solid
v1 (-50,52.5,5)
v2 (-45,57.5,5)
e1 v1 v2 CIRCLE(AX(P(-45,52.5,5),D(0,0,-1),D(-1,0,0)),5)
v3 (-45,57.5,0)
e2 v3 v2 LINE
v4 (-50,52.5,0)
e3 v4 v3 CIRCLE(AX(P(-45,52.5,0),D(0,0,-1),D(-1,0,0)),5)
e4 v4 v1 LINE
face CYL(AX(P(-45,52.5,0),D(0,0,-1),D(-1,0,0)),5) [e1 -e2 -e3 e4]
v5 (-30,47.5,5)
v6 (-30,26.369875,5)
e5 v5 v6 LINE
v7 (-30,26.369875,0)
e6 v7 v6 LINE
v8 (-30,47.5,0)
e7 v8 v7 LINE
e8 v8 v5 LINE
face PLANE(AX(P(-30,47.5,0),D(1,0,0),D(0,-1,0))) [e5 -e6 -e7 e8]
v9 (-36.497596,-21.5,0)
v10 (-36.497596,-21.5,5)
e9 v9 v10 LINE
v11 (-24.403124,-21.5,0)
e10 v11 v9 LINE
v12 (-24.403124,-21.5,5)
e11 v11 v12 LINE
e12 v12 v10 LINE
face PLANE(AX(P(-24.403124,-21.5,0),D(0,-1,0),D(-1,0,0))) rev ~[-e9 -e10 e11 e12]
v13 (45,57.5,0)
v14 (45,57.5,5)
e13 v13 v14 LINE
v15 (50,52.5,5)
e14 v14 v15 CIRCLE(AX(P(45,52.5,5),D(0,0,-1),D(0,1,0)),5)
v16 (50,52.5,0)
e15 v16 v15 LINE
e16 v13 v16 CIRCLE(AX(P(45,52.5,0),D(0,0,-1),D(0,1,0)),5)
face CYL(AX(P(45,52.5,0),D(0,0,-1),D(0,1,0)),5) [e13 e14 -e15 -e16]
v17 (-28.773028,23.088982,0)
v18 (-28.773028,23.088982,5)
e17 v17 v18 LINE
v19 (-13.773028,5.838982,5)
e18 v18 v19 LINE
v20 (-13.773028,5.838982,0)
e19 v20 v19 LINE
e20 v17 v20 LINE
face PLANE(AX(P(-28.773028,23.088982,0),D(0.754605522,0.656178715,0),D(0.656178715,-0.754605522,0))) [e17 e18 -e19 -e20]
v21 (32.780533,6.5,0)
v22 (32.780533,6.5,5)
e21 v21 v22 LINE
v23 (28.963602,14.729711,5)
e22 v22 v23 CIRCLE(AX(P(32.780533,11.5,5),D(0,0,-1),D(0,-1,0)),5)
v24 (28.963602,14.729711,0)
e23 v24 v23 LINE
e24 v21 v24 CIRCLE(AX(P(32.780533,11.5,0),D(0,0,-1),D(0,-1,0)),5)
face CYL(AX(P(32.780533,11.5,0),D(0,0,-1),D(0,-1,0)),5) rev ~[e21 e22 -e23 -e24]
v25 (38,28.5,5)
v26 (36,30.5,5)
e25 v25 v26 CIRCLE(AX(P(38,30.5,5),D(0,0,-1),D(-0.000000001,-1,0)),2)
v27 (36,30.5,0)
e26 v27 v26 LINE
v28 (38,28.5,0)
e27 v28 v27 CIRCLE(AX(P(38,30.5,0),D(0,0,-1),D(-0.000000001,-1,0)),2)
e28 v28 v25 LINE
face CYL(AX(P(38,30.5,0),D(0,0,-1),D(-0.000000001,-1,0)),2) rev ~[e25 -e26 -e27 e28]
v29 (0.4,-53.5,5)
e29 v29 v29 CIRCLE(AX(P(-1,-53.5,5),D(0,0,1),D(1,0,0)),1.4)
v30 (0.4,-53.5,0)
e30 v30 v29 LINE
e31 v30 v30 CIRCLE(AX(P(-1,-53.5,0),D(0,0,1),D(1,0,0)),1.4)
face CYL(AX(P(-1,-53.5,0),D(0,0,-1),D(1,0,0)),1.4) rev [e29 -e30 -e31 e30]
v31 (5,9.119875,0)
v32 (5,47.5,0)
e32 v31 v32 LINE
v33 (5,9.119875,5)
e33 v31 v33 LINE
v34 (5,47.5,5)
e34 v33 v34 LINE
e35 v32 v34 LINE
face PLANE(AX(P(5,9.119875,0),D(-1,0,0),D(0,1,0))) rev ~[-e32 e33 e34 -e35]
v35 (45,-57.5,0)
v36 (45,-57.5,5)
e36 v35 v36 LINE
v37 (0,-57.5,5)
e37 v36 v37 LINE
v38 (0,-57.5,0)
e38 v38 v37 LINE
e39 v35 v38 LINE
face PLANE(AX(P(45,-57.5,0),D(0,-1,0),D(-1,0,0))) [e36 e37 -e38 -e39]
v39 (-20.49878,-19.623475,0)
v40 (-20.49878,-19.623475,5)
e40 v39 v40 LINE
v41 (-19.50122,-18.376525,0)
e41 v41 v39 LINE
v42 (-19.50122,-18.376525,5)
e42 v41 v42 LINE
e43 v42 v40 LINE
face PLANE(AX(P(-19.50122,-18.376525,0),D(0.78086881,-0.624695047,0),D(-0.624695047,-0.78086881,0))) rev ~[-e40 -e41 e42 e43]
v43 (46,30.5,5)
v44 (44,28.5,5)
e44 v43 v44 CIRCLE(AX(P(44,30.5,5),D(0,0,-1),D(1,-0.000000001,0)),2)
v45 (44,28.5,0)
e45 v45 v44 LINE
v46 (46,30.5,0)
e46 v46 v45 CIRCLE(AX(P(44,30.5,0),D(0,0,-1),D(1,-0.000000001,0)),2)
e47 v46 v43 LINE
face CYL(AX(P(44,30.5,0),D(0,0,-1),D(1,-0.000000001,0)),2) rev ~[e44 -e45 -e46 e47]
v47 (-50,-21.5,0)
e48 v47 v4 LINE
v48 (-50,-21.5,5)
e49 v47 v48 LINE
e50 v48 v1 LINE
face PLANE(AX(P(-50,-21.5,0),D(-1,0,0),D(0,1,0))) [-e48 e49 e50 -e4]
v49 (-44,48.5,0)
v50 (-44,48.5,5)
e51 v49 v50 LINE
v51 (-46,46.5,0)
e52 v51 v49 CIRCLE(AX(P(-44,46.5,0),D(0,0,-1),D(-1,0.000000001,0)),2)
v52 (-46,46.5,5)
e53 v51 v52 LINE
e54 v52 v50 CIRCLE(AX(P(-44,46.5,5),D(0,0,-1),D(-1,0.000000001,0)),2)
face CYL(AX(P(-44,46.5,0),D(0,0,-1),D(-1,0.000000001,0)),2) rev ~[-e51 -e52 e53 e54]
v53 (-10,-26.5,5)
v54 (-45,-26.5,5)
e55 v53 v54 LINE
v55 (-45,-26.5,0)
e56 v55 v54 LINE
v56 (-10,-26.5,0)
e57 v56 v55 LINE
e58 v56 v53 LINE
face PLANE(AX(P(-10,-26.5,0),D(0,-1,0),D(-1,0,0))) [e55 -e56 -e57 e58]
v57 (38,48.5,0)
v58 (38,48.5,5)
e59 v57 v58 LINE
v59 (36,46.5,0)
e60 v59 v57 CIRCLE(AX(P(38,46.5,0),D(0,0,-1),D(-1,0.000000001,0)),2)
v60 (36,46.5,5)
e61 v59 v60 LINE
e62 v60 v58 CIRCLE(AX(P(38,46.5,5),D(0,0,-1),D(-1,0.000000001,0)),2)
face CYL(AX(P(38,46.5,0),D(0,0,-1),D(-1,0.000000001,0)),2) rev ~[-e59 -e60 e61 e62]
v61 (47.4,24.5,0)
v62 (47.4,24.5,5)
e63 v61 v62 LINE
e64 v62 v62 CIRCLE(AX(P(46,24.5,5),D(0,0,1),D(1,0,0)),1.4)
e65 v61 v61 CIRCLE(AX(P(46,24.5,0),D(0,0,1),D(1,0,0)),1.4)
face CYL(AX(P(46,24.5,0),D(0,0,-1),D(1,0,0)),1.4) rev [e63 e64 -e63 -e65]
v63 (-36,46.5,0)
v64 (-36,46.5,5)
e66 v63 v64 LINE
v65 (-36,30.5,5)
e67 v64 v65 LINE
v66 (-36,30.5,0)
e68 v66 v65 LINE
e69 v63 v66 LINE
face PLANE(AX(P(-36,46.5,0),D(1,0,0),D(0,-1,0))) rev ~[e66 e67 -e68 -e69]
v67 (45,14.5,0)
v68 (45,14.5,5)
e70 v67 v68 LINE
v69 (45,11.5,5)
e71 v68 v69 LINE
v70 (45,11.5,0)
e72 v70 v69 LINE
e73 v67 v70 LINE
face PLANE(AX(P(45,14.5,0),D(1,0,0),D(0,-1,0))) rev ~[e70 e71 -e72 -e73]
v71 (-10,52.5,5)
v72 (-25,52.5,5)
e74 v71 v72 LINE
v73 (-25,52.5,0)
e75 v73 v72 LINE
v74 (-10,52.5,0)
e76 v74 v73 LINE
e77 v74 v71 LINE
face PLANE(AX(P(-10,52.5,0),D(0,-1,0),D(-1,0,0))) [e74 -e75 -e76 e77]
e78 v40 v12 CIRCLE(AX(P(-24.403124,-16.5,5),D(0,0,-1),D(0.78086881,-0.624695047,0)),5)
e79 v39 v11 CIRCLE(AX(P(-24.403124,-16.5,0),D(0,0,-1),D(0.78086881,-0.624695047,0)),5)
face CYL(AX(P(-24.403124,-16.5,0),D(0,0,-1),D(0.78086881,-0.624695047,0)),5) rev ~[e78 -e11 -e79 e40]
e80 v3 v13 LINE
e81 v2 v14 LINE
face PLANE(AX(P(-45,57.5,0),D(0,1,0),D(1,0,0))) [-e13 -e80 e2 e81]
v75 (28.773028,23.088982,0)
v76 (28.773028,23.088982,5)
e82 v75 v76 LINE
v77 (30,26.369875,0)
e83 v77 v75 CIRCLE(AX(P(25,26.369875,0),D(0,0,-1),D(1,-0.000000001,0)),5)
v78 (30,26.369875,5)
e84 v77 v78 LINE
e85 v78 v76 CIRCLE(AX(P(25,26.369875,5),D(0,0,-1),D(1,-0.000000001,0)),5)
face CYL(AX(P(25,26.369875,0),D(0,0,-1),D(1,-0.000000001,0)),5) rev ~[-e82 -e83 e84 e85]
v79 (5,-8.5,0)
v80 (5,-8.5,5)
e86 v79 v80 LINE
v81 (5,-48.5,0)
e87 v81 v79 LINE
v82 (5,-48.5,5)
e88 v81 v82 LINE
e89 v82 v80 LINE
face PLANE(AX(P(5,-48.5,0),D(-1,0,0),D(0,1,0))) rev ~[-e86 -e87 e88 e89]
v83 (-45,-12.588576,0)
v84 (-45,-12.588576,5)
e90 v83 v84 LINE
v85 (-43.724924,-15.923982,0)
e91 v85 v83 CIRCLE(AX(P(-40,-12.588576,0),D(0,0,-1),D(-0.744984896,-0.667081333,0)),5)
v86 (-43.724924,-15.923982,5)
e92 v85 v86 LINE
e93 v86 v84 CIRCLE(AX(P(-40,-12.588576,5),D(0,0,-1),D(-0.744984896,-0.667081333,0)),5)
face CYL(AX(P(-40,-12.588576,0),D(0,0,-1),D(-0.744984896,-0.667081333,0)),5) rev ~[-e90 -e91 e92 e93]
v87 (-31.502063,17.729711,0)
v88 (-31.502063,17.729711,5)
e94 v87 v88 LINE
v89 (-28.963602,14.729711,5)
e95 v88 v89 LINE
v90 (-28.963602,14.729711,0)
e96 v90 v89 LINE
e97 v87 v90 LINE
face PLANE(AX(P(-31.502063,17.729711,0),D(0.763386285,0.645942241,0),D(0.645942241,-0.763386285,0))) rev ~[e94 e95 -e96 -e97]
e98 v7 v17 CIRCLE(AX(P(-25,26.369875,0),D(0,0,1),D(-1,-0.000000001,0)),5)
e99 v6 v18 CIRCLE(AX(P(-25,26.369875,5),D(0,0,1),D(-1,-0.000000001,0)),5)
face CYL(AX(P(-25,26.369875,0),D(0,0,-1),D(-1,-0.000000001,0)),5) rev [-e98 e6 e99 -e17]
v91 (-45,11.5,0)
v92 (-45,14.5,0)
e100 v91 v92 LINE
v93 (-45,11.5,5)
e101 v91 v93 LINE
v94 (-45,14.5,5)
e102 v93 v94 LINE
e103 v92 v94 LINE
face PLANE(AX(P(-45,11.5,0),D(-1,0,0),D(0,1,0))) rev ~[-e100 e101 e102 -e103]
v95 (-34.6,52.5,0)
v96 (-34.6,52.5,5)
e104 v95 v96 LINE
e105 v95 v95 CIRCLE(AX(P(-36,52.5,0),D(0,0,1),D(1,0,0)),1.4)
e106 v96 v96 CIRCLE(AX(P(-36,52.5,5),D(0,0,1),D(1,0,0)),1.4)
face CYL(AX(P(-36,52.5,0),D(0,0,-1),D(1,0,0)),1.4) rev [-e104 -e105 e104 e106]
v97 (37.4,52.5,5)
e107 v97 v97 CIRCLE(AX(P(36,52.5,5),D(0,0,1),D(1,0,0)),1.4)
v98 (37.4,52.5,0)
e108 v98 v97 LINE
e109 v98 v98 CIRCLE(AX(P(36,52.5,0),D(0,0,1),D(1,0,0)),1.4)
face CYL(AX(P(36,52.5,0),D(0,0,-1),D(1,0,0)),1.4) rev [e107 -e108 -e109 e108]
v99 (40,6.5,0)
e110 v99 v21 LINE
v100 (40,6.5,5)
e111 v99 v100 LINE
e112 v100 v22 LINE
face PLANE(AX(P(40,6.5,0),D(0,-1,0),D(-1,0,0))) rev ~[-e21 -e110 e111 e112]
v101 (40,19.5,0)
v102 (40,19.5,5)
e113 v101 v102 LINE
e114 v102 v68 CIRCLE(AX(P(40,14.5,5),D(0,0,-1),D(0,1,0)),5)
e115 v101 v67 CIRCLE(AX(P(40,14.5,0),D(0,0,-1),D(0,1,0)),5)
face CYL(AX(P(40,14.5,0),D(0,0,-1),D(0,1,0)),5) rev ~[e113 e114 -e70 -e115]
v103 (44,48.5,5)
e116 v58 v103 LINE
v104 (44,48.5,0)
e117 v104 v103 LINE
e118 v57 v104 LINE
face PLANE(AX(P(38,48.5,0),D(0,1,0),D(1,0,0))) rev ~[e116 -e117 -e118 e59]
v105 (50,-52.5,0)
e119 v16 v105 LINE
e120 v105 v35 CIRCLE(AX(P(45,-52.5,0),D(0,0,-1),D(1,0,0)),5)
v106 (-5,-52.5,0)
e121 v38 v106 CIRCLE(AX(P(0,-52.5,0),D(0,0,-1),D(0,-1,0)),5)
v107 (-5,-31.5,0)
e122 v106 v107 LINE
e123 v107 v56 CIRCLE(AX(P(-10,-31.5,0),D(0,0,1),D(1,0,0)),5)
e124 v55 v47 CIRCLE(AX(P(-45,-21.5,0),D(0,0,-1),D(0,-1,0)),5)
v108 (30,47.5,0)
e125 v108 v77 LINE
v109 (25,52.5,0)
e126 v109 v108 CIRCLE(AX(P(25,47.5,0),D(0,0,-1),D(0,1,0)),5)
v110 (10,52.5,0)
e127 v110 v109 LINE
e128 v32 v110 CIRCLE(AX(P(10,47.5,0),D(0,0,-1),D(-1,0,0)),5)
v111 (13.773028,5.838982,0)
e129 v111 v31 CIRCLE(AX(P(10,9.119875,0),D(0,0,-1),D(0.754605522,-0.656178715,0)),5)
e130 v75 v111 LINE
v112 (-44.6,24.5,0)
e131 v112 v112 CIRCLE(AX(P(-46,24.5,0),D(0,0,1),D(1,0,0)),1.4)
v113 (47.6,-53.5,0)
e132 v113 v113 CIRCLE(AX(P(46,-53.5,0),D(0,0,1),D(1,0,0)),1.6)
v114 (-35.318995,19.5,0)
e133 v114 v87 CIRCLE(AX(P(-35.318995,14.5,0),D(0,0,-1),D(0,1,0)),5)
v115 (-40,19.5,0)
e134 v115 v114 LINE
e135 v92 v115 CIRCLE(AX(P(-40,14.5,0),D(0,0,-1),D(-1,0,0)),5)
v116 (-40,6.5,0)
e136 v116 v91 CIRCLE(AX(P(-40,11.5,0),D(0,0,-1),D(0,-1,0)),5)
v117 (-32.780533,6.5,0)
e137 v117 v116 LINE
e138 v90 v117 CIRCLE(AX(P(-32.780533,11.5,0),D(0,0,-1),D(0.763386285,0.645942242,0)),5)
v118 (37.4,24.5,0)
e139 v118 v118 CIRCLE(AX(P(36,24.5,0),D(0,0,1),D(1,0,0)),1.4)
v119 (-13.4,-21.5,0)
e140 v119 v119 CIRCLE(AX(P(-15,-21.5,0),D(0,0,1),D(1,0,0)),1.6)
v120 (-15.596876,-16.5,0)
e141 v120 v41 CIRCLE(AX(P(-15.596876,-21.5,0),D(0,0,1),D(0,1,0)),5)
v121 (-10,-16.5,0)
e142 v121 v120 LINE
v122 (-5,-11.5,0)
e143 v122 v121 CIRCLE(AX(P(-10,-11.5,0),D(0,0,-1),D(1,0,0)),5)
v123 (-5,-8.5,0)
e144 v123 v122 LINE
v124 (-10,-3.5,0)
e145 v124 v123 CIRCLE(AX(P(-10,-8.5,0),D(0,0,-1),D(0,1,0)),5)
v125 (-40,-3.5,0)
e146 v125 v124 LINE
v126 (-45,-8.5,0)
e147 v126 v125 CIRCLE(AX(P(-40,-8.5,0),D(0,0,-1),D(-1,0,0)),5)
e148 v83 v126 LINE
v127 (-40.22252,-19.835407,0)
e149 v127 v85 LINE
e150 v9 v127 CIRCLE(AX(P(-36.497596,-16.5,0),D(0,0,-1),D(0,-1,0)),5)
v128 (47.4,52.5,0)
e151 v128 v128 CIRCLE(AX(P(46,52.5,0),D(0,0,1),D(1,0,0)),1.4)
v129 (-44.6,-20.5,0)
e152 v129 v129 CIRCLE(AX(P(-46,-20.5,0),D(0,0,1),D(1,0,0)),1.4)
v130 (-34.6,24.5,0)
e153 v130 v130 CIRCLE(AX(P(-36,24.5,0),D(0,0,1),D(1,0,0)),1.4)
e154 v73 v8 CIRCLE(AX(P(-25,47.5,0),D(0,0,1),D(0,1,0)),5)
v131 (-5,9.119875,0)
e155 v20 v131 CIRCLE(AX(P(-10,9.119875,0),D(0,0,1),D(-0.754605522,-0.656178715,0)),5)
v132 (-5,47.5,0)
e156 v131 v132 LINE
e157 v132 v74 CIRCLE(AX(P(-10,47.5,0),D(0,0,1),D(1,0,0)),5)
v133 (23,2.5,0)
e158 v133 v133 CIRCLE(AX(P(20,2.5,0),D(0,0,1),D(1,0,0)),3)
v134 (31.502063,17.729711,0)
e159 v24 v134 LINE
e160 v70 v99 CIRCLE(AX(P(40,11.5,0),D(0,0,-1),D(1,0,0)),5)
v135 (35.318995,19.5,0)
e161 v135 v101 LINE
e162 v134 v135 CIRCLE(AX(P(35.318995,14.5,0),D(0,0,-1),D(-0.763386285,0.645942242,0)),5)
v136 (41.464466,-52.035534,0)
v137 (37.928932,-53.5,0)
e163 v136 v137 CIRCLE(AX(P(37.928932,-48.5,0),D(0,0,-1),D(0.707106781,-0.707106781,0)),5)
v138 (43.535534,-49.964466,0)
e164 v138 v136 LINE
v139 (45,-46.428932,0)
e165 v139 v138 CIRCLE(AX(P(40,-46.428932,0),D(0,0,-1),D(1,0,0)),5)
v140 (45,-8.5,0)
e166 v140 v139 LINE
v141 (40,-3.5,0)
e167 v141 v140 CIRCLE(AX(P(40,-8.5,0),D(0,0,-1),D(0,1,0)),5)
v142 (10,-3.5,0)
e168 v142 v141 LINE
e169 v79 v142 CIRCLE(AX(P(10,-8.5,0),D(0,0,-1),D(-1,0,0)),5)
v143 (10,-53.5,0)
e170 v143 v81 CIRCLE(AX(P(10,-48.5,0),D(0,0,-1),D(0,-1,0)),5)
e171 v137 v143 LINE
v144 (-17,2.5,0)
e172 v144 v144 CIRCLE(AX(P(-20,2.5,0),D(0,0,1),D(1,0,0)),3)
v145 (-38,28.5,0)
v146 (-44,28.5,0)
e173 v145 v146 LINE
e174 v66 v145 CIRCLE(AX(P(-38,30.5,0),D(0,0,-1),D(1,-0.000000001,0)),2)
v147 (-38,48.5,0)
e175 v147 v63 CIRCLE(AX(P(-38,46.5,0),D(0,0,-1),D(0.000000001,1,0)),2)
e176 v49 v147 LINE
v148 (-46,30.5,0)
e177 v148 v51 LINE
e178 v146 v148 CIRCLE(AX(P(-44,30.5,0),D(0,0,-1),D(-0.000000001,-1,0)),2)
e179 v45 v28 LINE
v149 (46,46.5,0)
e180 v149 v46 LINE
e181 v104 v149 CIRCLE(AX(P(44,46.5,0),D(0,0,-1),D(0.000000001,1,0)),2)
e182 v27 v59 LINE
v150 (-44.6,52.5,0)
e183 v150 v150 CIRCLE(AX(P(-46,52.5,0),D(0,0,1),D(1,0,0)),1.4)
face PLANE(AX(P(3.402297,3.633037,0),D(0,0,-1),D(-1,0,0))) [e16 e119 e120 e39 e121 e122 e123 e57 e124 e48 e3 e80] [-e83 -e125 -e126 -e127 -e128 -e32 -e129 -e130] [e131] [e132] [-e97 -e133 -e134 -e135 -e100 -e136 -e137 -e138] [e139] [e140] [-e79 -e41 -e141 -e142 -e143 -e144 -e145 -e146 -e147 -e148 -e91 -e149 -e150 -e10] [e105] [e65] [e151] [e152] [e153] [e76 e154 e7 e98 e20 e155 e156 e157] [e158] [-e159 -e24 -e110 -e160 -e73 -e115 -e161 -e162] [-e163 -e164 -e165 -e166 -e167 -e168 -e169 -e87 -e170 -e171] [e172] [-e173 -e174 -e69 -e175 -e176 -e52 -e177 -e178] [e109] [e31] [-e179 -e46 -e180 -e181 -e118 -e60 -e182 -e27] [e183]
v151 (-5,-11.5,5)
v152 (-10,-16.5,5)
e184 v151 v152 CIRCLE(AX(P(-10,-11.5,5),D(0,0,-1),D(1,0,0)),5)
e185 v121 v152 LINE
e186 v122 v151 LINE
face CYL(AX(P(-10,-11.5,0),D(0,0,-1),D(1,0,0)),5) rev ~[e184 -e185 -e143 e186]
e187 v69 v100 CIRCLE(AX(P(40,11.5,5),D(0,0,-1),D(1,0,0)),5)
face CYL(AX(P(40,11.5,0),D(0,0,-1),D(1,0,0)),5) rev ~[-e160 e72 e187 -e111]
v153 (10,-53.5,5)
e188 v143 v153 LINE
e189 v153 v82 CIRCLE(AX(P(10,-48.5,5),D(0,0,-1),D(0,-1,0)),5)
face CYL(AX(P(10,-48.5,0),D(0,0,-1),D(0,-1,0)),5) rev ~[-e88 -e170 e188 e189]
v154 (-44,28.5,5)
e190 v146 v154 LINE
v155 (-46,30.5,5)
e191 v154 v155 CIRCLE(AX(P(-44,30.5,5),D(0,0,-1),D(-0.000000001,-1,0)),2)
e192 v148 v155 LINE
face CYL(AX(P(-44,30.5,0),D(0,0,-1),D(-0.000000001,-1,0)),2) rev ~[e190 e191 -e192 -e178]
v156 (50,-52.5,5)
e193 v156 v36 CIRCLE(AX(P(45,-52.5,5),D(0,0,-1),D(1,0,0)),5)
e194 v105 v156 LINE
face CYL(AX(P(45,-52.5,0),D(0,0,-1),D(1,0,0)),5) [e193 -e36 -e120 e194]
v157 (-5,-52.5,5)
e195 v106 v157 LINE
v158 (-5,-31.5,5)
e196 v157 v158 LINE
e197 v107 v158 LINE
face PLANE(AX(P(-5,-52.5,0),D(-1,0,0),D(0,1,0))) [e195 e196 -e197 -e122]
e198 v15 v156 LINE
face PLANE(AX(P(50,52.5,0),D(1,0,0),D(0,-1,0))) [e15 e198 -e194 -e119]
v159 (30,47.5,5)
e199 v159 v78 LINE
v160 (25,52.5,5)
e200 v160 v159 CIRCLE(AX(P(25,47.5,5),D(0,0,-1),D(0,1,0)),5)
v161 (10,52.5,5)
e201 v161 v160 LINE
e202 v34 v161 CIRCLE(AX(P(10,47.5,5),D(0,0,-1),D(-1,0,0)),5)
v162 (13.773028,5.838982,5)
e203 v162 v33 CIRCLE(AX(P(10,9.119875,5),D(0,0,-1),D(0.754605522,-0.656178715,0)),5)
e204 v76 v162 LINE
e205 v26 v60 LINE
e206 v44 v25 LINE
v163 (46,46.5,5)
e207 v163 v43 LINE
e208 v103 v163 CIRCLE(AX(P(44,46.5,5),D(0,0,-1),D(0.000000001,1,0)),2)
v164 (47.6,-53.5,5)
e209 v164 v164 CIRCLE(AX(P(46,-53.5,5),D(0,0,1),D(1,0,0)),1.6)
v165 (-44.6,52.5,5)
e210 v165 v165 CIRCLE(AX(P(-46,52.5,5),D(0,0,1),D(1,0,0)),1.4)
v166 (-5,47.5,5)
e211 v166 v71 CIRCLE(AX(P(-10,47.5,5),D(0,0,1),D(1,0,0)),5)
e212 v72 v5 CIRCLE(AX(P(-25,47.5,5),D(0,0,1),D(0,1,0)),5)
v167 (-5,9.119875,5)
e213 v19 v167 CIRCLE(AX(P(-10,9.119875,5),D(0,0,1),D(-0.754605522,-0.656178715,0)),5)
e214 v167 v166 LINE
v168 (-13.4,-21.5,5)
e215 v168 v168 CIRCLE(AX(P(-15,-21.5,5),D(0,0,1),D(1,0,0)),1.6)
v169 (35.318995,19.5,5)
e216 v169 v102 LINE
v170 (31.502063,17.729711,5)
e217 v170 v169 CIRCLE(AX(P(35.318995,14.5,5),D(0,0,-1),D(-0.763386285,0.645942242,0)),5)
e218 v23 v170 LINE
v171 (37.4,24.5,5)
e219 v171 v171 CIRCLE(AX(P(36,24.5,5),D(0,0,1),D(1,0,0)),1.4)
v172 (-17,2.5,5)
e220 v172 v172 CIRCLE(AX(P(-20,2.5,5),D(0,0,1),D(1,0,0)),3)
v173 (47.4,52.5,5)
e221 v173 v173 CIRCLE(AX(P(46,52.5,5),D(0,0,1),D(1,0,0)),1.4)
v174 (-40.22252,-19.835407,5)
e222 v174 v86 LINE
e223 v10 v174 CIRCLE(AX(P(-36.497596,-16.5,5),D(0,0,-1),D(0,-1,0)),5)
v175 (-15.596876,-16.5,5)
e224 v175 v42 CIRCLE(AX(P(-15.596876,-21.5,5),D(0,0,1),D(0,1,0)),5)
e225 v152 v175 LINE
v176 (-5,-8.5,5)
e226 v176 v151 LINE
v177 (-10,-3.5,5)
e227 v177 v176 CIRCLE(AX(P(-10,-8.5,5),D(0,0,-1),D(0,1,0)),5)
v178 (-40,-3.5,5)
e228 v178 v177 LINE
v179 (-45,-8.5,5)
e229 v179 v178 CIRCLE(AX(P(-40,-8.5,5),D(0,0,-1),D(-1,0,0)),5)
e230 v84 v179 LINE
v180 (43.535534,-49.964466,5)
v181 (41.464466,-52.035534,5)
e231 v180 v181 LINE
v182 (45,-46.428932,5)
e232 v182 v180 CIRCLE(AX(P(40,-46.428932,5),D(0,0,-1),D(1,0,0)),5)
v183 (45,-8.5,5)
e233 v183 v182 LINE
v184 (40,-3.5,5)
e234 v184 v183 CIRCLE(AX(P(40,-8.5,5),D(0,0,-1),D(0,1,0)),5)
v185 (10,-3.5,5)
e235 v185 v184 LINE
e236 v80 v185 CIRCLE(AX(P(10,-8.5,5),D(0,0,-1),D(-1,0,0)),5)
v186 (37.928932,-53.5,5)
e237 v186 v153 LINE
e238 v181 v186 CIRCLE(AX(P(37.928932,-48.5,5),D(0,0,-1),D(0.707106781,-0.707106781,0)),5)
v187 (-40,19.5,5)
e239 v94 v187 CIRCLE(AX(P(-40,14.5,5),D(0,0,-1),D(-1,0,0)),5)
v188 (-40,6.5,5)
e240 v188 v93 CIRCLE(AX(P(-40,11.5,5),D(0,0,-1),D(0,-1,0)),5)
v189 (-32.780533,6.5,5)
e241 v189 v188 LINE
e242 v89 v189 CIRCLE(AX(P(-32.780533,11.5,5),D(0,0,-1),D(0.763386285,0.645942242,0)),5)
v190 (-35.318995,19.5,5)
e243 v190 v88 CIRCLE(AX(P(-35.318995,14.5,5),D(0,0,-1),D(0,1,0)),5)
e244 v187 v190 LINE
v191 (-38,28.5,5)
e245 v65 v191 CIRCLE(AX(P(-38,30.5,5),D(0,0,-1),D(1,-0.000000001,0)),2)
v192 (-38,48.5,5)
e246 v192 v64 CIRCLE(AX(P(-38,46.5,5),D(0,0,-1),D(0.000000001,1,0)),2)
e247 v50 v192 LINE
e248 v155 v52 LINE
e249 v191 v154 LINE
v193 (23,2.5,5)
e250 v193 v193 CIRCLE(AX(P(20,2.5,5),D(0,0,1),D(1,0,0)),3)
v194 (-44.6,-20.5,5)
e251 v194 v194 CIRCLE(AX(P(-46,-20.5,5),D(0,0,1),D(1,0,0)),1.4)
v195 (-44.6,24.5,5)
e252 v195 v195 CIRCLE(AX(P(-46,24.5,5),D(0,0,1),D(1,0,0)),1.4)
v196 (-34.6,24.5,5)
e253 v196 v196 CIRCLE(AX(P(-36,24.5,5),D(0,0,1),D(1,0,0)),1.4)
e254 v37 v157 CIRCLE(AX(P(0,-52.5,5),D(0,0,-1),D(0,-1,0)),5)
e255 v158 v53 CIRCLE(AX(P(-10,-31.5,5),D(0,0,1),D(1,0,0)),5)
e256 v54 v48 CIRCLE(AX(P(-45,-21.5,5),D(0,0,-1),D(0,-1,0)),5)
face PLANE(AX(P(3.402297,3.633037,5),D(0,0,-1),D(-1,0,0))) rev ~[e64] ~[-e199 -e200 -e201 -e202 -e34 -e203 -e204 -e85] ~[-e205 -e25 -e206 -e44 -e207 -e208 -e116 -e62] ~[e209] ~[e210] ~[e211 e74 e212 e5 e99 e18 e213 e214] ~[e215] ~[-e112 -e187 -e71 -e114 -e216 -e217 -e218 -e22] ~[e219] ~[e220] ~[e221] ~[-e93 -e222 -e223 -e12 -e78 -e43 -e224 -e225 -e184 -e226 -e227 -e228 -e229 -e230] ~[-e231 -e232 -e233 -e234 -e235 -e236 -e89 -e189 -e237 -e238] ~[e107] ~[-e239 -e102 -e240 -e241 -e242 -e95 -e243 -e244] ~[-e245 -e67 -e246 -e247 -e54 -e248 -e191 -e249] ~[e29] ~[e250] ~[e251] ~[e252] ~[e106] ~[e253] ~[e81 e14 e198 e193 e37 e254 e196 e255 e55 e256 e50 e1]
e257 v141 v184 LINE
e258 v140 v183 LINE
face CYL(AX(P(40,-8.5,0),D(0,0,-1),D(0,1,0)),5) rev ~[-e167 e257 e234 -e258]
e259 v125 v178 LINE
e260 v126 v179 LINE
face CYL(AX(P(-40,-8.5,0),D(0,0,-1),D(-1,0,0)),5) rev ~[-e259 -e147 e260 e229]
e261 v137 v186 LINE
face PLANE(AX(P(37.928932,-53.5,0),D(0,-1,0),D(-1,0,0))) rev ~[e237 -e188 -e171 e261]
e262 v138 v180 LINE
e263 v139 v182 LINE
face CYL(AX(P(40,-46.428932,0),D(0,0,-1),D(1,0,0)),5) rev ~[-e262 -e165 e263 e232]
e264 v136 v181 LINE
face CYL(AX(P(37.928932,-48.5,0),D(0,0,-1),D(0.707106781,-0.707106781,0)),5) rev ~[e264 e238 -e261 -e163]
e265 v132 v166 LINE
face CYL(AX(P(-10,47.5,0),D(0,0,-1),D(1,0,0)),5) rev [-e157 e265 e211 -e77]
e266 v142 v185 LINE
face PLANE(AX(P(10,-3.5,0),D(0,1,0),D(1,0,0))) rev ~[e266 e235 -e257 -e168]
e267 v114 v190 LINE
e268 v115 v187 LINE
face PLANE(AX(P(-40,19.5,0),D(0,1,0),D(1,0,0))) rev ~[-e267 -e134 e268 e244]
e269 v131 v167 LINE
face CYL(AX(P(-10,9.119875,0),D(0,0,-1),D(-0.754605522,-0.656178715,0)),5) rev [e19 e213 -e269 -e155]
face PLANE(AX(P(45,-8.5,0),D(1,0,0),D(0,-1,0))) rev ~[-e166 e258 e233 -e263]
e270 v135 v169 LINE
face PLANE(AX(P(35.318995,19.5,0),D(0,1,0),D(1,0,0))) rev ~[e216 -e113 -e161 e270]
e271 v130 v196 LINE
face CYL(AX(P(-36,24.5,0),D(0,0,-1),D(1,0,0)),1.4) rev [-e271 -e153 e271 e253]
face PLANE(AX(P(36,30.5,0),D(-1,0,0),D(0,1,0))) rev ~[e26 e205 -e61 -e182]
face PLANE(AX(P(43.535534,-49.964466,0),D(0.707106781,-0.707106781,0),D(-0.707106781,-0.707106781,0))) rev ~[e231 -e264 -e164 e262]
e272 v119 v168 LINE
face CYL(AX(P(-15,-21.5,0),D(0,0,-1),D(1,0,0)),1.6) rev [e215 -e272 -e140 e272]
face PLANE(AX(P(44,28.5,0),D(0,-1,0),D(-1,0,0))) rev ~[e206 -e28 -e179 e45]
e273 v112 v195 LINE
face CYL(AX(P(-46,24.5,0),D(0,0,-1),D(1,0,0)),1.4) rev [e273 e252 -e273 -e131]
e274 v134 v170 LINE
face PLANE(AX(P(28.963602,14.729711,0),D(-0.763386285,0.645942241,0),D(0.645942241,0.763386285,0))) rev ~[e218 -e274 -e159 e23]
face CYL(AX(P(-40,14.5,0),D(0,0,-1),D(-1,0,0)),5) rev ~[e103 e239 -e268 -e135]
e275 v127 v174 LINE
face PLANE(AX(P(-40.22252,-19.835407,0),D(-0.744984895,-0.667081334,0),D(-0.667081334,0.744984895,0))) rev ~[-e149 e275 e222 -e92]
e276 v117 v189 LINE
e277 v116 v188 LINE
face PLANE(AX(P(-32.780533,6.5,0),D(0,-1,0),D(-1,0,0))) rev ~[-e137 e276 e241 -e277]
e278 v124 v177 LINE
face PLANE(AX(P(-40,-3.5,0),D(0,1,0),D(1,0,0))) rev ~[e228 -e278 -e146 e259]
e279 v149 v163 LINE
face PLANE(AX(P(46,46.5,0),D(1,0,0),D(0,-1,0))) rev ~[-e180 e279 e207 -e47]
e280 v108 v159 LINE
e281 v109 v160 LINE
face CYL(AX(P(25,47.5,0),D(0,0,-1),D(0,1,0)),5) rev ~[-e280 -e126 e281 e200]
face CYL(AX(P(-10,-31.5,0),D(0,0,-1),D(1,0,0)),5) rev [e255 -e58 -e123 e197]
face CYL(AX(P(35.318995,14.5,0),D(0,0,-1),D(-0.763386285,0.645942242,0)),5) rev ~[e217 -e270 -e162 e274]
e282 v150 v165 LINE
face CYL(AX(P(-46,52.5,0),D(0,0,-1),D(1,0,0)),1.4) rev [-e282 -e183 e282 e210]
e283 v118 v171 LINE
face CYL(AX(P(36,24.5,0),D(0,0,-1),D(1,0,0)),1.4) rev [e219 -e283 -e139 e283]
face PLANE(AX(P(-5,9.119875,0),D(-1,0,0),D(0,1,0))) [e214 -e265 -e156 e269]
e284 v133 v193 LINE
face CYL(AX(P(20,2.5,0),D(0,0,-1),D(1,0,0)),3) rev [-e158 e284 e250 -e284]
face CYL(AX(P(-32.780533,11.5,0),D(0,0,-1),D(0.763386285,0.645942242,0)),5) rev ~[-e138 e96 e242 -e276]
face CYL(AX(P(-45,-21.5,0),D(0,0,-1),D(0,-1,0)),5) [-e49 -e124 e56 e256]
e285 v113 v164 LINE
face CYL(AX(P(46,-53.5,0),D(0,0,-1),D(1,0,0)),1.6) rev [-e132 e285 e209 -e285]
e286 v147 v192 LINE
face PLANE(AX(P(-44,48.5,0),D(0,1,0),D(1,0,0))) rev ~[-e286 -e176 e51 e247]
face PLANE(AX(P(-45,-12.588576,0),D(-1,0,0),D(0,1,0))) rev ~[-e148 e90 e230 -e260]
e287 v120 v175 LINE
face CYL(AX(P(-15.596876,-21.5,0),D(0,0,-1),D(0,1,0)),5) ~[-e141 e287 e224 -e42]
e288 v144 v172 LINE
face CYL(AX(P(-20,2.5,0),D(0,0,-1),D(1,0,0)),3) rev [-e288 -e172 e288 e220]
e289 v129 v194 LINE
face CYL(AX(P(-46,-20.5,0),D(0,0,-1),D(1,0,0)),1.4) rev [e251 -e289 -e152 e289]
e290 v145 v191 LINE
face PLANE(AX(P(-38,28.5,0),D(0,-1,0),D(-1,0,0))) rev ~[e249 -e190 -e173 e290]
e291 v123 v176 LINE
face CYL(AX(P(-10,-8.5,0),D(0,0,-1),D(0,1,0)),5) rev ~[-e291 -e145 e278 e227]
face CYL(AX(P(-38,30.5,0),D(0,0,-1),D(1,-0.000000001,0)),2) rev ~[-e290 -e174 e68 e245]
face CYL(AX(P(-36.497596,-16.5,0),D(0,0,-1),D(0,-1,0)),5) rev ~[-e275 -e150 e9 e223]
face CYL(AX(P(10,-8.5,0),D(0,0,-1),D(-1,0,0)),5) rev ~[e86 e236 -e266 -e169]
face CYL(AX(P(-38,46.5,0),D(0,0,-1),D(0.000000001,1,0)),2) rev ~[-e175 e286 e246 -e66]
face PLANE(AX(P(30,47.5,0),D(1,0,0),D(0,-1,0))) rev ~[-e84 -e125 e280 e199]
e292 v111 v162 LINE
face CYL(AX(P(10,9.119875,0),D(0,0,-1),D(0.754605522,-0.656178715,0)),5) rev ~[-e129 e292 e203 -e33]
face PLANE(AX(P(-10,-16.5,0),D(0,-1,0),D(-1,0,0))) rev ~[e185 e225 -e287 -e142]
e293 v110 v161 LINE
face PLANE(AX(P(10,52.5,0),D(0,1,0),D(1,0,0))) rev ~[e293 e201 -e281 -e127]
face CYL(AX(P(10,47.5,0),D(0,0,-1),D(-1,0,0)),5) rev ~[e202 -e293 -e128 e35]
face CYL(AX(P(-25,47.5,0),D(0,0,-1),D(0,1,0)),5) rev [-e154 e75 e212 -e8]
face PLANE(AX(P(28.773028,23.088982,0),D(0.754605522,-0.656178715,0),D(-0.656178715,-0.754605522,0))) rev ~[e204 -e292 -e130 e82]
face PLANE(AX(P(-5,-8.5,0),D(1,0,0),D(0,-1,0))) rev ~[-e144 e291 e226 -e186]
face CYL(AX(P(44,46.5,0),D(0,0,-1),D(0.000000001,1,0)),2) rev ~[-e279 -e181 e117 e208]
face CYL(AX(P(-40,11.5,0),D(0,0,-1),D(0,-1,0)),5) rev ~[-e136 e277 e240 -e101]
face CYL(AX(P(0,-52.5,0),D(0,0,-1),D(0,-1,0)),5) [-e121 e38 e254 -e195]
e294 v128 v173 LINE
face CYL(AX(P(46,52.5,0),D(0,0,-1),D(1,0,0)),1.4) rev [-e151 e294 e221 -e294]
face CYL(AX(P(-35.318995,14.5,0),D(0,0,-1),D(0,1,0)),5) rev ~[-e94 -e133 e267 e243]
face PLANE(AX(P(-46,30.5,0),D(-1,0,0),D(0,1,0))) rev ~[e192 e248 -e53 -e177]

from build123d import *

# Parameters (mm, degrees)
SKETCH_1_R      = 1.4
SKETCH_1_R_2    = 3
SKETCH_1_R_3    = 1.6
EXTRUDE_1_DEPTH = 5


with BuildPart() as part:
    # ｽｹｯﾁ1 → ﾎﾞｽ - 押し出し1 (new body)
    with BuildSketch(Plane.XY):
        with BuildLine():
            Line((-45, 57.5), (45, 57.5))
            ThreePointArc((45, 57.5), (48.535533906, 56.035533906), (50, 52.5))
            Line((50, 52.5), (50, -52.5))
            ThreePointArc((50, -52.5), (48.535533906, -56.035533906), (45, -57.5))
            Line((45, -57.5), (0, -57.5))
            ThreePointArc((0, -57.5), (-3.535533906, -56.035533906), (-5, -52.5))
            Line((-5, -52.5), (-5, -31.5))
            ThreePointArc((-5, -31.5), (-6.464466094, -27.964466094), (-10, -26.5))
            Line((-10, -26.5), (-45, -26.5))
            ThreePointArc((-45, -26.5), (-48.535533906, -25.035533906), (-50, -21.5))
            Line((-50, -21.5), (-50, 52.5))
            ThreePointArc((-50, 52.5), (-48.535533906, 56.035533906), (-45, 57.5))
        make_face()
        with Locations((-46, 52.5)):
            Circle(SKETCH_1_R, mode=Mode.SUBTRACT)
        with Locations((-36, 52.5)):
            Circle(SKETCH_1_R, mode=Mode.SUBTRACT)
        with Locations((-46, 24.5)):
            Circle(SKETCH_1_R, mode=Mode.SUBTRACT)
        with Locations((-36, 24.5)):
            Circle(SKETCH_1_R, mode=Mode.SUBTRACT)
        with Locations((46, 24.5)):
            Circle(SKETCH_1_R, mode=Mode.SUBTRACT)
        with Locations((36, 24.5)):
            Circle(SKETCH_1_R, mode=Mode.SUBTRACT)
        with Locations((36, 52.5)):
            Circle(SKETCH_1_R, mode=Mode.SUBTRACT)
        with Locations((46, 52.5)):
            Circle(SKETCH_1_R, mode=Mode.SUBTRACT)
        with Locations((-20, 2.5)):
            Circle(SKETCH_1_R_2, mode=Mode.SUBTRACT)
        with Locations((20, 2.5)):
            Circle(SKETCH_1_R_2, mode=Mode.SUBTRACT)
        with Locations((-1, -53.5)):
            Circle(SKETCH_1_R, mode=Mode.SUBTRACT)
        with Locations((-46, -20.5)):
            Circle(SKETCH_1_R, mode=Mode.SUBTRACT)
        with Locations((46, -53.5)):
            Circle(SKETCH_1_R_3, mode=Mode.SUBTRACT)
        with Locations((-15, -21.5)):
            Circle(SKETCH_1_R_3, mode=Mode.SUBTRACT)
        with BuildLine():
            Line((-10, 52.5), (-25, 52.5))
            ThreePointArc((-25, 52.5), (-28.535533906, 51.035533906), (-30, 47.5))
            Line((-30, 47.5), (-30, 26.369875327))
            ThreePointArc((-30, 26.369875327), (-29.683222077, 24.618467044), (-28.773027611, 23.088981752))
            Line((-28.773027611, 23.088981752), (-13.773027611, 5.838981752))
            ThreePointArc((-13.773027611, 5.838981752), (-8.248591717, 4.43665325), (-5, 9.119875327))
            Line((-5, 9.119875327), (-5, 47.5))
            ThreePointArc((-5, 47.5), (-6.464466094, 51.035533906), (-10, 52.5))
        make_face(mode=Mode.SUBTRACT)
        with BuildLine():
            Line((-40, 19.5), (-35.318994756, 19.5))
            ThreePointArc((-35.318994756, 19.5), (-33.215254758, 19.035887787), (-31.502063329, 17.729711207))
            Line((-31.502063329, 17.729711207), (-28.963601791, 14.729711207))
            ThreePointArc((-28.963601791, 14.729711207), (-28.24464543, 9.396260001), (-32.780533218, 6.5))
            Line((-32.780533218, 6.5), (-40, 6.5))
            ThreePointArc((-40, 6.5), (-43.535533906, 7.964466094), (-45, 11.5))
            Line((-45, 11.5), (-45, 14.5))
            ThreePointArc((-45, 14.5), (-43.535533906, 18.035533906), (-40, 19.5))
        make_face(mode=Mode.SUBTRACT)
        with BuildLine():
            Line((-40, -3.5), (-10, -3.5))
            ThreePointArc((-10, -3.5), (-6.464466094, -4.964466094), (-5, -8.5))
            Line((-5, -8.5), (-5, -11.5))
            ThreePointArc((-5, -11.5), (-6.464466094, -15.035533906), (-10, -16.5))
            Line((-10, -16.5), (-15.596875763, -16.5))
            ThreePointArc((-15.596875763, -16.5), (-17.762819415, -16.993483818), (-19.50121981, -18.376524762))
            Line((-19.50121981, -18.376524762), (-20.49878019, -19.623475238))
            ThreePointArc((-20.49878019, -19.623475238), (-22.237180585, -21.006516182), (-24.403124237, -21.5))
            Line((-24.403124237, -21.5), (-36.497595845, -21.5))
            ThreePointArc((-36.497595845, -21.5), (-38.537567248, -21.064922417), (-40.222520321, -19.835406669))
            Line((-40.222520321, -19.835406669), (-43.724924476, -15.923982291))
            ThreePointArc((-43.724924476, -15.923982291), (-44.670365209, -14.373985605), (-45, -12.588575621))
            Line((-45, -12.588575621), (-45, -8.5))
            ThreePointArc((-45, -8.5), (-43.535533906, -4.964466094), (-40, -3.5))
        make_face(mode=Mode.SUBTRACT)
        with BuildLine():
            Line((40, 6.5), (32.780533218, 6.5))
            ThreePointArc((32.780533218, 6.5), (28.24464543, 9.396260001), (28.963601791, 14.729711207))
            Line((28.963601791, 14.729711207), (31.502063329, 17.729711207))
            ThreePointArc((31.502063329, 17.729711207), (33.215254758, 19.035887787), (35.318994756, 19.5))
            Line((35.318994756, 19.5), (40, 19.5))
            ThreePointArc((40, 19.5), (43.535533906, 18.035533906), (45, 14.5))
            Line((45, 14.5), (45, 11.5))
            ThreePointArc((45, 11.5), (43.535533906, 7.964466094), (40, 6.5))
        make_face(mode=Mode.SUBTRACT)
        with BuildLine():
            Line((-44, 48.5), (-38, 48.5))
            ThreePointArc((-38, 48.5), (-36.585786438, 47.914213562), (-36, 46.5))
            Line((-36, 46.5), (-36, 30.5))
            ThreePointArc((-36, 30.5), (-36.585786438, 29.085786438), (-38, 28.5))
            Line((-38, 28.5), (-44, 28.5))
            ThreePointArc((-44, 28.5), (-45.414213562, 29.085786438), (-46, 30.5))
            Line((-46, 30.5), (-46, 46.5))
            ThreePointArc((-46, 46.5), (-45.414213562, 47.914213562), (-44, 48.5))
        make_face(mode=Mode.SUBTRACT)
        with BuildLine():
            Line((30, 47.5), (30, 26.369875327))
            ThreePointArc((30, 26.369875327), (29.683222077, 24.618467044), (28.773027611, 23.088981752))
            Line((28.773027611, 23.088981752), (13.773027611, 5.838981752))
            ThreePointArc((13.773027611, 5.838981752), (8.248591717, 4.43665325), (5, 9.119875327))
            Line((5, 9.119875327), (5, 47.5))
            ThreePointArc((5, 47.5), (6.464466094, 51.035533906), (10, 52.5))
            Line((10, 52.5), (25, 52.5))
            ThreePointArc((25, 52.5), (28.535533906, 51.035533906), (30, 47.5))
        make_face(mode=Mode.SUBTRACT)
        with BuildLine():
            Line((44, 28.5), (38, 28.5))
            ThreePointArc((38, 28.5), (36.585786438, 29.085786438), (36, 30.5))
            Line((36, 30.5), (36, 46.5))
            ThreePointArc((36, 46.5), (36.585786438, 47.914213562), (38, 48.5))
            Line((38, 48.5), (44, 48.5))
            ThreePointArc((44, 48.5), (45.414213562, 47.914213562), (46, 46.5))
            Line((46, 46.5), (46, 30.5))
            ThreePointArc((46, 30.5), (45.414213562, 29.085786438), (44, 28.5))
        make_face(mode=Mode.SUBTRACT)
        with BuildLine():
            Line((10, -3.5), (40, -3.5))
            ThreePointArc((40, -3.5), (43.535533906, -4.964466094), (45, -8.5))
            Line((45, -8.5), (45, -46.428932188))
            ThreePointArc((45, -46.428932188), (44.619397663, -48.34234935), (43.535533906, -49.964466094))
            Line((43.535533906, -49.964466094), (41.464466094, -52.035533906))
            ThreePointArc((41.464466094, -52.035533906), (39.84234935, -53.119397663), (37.928932188, -53.5))
            Line((37.928932188, -53.5), (10, -53.5))
            ThreePointArc((10, -53.5), (6.464466094, -52.035533906), (5, -48.5))
            Line((5, -48.5), (5, -8.5))
            ThreePointArc((5, -8.5), (6.464466094, -4.964466094), (10, -3.5))
        make_face(mode=Mode.SUBTRACT)
    extrude(amount=EXTRUDE_1_DEPTH)


solid = part.part
